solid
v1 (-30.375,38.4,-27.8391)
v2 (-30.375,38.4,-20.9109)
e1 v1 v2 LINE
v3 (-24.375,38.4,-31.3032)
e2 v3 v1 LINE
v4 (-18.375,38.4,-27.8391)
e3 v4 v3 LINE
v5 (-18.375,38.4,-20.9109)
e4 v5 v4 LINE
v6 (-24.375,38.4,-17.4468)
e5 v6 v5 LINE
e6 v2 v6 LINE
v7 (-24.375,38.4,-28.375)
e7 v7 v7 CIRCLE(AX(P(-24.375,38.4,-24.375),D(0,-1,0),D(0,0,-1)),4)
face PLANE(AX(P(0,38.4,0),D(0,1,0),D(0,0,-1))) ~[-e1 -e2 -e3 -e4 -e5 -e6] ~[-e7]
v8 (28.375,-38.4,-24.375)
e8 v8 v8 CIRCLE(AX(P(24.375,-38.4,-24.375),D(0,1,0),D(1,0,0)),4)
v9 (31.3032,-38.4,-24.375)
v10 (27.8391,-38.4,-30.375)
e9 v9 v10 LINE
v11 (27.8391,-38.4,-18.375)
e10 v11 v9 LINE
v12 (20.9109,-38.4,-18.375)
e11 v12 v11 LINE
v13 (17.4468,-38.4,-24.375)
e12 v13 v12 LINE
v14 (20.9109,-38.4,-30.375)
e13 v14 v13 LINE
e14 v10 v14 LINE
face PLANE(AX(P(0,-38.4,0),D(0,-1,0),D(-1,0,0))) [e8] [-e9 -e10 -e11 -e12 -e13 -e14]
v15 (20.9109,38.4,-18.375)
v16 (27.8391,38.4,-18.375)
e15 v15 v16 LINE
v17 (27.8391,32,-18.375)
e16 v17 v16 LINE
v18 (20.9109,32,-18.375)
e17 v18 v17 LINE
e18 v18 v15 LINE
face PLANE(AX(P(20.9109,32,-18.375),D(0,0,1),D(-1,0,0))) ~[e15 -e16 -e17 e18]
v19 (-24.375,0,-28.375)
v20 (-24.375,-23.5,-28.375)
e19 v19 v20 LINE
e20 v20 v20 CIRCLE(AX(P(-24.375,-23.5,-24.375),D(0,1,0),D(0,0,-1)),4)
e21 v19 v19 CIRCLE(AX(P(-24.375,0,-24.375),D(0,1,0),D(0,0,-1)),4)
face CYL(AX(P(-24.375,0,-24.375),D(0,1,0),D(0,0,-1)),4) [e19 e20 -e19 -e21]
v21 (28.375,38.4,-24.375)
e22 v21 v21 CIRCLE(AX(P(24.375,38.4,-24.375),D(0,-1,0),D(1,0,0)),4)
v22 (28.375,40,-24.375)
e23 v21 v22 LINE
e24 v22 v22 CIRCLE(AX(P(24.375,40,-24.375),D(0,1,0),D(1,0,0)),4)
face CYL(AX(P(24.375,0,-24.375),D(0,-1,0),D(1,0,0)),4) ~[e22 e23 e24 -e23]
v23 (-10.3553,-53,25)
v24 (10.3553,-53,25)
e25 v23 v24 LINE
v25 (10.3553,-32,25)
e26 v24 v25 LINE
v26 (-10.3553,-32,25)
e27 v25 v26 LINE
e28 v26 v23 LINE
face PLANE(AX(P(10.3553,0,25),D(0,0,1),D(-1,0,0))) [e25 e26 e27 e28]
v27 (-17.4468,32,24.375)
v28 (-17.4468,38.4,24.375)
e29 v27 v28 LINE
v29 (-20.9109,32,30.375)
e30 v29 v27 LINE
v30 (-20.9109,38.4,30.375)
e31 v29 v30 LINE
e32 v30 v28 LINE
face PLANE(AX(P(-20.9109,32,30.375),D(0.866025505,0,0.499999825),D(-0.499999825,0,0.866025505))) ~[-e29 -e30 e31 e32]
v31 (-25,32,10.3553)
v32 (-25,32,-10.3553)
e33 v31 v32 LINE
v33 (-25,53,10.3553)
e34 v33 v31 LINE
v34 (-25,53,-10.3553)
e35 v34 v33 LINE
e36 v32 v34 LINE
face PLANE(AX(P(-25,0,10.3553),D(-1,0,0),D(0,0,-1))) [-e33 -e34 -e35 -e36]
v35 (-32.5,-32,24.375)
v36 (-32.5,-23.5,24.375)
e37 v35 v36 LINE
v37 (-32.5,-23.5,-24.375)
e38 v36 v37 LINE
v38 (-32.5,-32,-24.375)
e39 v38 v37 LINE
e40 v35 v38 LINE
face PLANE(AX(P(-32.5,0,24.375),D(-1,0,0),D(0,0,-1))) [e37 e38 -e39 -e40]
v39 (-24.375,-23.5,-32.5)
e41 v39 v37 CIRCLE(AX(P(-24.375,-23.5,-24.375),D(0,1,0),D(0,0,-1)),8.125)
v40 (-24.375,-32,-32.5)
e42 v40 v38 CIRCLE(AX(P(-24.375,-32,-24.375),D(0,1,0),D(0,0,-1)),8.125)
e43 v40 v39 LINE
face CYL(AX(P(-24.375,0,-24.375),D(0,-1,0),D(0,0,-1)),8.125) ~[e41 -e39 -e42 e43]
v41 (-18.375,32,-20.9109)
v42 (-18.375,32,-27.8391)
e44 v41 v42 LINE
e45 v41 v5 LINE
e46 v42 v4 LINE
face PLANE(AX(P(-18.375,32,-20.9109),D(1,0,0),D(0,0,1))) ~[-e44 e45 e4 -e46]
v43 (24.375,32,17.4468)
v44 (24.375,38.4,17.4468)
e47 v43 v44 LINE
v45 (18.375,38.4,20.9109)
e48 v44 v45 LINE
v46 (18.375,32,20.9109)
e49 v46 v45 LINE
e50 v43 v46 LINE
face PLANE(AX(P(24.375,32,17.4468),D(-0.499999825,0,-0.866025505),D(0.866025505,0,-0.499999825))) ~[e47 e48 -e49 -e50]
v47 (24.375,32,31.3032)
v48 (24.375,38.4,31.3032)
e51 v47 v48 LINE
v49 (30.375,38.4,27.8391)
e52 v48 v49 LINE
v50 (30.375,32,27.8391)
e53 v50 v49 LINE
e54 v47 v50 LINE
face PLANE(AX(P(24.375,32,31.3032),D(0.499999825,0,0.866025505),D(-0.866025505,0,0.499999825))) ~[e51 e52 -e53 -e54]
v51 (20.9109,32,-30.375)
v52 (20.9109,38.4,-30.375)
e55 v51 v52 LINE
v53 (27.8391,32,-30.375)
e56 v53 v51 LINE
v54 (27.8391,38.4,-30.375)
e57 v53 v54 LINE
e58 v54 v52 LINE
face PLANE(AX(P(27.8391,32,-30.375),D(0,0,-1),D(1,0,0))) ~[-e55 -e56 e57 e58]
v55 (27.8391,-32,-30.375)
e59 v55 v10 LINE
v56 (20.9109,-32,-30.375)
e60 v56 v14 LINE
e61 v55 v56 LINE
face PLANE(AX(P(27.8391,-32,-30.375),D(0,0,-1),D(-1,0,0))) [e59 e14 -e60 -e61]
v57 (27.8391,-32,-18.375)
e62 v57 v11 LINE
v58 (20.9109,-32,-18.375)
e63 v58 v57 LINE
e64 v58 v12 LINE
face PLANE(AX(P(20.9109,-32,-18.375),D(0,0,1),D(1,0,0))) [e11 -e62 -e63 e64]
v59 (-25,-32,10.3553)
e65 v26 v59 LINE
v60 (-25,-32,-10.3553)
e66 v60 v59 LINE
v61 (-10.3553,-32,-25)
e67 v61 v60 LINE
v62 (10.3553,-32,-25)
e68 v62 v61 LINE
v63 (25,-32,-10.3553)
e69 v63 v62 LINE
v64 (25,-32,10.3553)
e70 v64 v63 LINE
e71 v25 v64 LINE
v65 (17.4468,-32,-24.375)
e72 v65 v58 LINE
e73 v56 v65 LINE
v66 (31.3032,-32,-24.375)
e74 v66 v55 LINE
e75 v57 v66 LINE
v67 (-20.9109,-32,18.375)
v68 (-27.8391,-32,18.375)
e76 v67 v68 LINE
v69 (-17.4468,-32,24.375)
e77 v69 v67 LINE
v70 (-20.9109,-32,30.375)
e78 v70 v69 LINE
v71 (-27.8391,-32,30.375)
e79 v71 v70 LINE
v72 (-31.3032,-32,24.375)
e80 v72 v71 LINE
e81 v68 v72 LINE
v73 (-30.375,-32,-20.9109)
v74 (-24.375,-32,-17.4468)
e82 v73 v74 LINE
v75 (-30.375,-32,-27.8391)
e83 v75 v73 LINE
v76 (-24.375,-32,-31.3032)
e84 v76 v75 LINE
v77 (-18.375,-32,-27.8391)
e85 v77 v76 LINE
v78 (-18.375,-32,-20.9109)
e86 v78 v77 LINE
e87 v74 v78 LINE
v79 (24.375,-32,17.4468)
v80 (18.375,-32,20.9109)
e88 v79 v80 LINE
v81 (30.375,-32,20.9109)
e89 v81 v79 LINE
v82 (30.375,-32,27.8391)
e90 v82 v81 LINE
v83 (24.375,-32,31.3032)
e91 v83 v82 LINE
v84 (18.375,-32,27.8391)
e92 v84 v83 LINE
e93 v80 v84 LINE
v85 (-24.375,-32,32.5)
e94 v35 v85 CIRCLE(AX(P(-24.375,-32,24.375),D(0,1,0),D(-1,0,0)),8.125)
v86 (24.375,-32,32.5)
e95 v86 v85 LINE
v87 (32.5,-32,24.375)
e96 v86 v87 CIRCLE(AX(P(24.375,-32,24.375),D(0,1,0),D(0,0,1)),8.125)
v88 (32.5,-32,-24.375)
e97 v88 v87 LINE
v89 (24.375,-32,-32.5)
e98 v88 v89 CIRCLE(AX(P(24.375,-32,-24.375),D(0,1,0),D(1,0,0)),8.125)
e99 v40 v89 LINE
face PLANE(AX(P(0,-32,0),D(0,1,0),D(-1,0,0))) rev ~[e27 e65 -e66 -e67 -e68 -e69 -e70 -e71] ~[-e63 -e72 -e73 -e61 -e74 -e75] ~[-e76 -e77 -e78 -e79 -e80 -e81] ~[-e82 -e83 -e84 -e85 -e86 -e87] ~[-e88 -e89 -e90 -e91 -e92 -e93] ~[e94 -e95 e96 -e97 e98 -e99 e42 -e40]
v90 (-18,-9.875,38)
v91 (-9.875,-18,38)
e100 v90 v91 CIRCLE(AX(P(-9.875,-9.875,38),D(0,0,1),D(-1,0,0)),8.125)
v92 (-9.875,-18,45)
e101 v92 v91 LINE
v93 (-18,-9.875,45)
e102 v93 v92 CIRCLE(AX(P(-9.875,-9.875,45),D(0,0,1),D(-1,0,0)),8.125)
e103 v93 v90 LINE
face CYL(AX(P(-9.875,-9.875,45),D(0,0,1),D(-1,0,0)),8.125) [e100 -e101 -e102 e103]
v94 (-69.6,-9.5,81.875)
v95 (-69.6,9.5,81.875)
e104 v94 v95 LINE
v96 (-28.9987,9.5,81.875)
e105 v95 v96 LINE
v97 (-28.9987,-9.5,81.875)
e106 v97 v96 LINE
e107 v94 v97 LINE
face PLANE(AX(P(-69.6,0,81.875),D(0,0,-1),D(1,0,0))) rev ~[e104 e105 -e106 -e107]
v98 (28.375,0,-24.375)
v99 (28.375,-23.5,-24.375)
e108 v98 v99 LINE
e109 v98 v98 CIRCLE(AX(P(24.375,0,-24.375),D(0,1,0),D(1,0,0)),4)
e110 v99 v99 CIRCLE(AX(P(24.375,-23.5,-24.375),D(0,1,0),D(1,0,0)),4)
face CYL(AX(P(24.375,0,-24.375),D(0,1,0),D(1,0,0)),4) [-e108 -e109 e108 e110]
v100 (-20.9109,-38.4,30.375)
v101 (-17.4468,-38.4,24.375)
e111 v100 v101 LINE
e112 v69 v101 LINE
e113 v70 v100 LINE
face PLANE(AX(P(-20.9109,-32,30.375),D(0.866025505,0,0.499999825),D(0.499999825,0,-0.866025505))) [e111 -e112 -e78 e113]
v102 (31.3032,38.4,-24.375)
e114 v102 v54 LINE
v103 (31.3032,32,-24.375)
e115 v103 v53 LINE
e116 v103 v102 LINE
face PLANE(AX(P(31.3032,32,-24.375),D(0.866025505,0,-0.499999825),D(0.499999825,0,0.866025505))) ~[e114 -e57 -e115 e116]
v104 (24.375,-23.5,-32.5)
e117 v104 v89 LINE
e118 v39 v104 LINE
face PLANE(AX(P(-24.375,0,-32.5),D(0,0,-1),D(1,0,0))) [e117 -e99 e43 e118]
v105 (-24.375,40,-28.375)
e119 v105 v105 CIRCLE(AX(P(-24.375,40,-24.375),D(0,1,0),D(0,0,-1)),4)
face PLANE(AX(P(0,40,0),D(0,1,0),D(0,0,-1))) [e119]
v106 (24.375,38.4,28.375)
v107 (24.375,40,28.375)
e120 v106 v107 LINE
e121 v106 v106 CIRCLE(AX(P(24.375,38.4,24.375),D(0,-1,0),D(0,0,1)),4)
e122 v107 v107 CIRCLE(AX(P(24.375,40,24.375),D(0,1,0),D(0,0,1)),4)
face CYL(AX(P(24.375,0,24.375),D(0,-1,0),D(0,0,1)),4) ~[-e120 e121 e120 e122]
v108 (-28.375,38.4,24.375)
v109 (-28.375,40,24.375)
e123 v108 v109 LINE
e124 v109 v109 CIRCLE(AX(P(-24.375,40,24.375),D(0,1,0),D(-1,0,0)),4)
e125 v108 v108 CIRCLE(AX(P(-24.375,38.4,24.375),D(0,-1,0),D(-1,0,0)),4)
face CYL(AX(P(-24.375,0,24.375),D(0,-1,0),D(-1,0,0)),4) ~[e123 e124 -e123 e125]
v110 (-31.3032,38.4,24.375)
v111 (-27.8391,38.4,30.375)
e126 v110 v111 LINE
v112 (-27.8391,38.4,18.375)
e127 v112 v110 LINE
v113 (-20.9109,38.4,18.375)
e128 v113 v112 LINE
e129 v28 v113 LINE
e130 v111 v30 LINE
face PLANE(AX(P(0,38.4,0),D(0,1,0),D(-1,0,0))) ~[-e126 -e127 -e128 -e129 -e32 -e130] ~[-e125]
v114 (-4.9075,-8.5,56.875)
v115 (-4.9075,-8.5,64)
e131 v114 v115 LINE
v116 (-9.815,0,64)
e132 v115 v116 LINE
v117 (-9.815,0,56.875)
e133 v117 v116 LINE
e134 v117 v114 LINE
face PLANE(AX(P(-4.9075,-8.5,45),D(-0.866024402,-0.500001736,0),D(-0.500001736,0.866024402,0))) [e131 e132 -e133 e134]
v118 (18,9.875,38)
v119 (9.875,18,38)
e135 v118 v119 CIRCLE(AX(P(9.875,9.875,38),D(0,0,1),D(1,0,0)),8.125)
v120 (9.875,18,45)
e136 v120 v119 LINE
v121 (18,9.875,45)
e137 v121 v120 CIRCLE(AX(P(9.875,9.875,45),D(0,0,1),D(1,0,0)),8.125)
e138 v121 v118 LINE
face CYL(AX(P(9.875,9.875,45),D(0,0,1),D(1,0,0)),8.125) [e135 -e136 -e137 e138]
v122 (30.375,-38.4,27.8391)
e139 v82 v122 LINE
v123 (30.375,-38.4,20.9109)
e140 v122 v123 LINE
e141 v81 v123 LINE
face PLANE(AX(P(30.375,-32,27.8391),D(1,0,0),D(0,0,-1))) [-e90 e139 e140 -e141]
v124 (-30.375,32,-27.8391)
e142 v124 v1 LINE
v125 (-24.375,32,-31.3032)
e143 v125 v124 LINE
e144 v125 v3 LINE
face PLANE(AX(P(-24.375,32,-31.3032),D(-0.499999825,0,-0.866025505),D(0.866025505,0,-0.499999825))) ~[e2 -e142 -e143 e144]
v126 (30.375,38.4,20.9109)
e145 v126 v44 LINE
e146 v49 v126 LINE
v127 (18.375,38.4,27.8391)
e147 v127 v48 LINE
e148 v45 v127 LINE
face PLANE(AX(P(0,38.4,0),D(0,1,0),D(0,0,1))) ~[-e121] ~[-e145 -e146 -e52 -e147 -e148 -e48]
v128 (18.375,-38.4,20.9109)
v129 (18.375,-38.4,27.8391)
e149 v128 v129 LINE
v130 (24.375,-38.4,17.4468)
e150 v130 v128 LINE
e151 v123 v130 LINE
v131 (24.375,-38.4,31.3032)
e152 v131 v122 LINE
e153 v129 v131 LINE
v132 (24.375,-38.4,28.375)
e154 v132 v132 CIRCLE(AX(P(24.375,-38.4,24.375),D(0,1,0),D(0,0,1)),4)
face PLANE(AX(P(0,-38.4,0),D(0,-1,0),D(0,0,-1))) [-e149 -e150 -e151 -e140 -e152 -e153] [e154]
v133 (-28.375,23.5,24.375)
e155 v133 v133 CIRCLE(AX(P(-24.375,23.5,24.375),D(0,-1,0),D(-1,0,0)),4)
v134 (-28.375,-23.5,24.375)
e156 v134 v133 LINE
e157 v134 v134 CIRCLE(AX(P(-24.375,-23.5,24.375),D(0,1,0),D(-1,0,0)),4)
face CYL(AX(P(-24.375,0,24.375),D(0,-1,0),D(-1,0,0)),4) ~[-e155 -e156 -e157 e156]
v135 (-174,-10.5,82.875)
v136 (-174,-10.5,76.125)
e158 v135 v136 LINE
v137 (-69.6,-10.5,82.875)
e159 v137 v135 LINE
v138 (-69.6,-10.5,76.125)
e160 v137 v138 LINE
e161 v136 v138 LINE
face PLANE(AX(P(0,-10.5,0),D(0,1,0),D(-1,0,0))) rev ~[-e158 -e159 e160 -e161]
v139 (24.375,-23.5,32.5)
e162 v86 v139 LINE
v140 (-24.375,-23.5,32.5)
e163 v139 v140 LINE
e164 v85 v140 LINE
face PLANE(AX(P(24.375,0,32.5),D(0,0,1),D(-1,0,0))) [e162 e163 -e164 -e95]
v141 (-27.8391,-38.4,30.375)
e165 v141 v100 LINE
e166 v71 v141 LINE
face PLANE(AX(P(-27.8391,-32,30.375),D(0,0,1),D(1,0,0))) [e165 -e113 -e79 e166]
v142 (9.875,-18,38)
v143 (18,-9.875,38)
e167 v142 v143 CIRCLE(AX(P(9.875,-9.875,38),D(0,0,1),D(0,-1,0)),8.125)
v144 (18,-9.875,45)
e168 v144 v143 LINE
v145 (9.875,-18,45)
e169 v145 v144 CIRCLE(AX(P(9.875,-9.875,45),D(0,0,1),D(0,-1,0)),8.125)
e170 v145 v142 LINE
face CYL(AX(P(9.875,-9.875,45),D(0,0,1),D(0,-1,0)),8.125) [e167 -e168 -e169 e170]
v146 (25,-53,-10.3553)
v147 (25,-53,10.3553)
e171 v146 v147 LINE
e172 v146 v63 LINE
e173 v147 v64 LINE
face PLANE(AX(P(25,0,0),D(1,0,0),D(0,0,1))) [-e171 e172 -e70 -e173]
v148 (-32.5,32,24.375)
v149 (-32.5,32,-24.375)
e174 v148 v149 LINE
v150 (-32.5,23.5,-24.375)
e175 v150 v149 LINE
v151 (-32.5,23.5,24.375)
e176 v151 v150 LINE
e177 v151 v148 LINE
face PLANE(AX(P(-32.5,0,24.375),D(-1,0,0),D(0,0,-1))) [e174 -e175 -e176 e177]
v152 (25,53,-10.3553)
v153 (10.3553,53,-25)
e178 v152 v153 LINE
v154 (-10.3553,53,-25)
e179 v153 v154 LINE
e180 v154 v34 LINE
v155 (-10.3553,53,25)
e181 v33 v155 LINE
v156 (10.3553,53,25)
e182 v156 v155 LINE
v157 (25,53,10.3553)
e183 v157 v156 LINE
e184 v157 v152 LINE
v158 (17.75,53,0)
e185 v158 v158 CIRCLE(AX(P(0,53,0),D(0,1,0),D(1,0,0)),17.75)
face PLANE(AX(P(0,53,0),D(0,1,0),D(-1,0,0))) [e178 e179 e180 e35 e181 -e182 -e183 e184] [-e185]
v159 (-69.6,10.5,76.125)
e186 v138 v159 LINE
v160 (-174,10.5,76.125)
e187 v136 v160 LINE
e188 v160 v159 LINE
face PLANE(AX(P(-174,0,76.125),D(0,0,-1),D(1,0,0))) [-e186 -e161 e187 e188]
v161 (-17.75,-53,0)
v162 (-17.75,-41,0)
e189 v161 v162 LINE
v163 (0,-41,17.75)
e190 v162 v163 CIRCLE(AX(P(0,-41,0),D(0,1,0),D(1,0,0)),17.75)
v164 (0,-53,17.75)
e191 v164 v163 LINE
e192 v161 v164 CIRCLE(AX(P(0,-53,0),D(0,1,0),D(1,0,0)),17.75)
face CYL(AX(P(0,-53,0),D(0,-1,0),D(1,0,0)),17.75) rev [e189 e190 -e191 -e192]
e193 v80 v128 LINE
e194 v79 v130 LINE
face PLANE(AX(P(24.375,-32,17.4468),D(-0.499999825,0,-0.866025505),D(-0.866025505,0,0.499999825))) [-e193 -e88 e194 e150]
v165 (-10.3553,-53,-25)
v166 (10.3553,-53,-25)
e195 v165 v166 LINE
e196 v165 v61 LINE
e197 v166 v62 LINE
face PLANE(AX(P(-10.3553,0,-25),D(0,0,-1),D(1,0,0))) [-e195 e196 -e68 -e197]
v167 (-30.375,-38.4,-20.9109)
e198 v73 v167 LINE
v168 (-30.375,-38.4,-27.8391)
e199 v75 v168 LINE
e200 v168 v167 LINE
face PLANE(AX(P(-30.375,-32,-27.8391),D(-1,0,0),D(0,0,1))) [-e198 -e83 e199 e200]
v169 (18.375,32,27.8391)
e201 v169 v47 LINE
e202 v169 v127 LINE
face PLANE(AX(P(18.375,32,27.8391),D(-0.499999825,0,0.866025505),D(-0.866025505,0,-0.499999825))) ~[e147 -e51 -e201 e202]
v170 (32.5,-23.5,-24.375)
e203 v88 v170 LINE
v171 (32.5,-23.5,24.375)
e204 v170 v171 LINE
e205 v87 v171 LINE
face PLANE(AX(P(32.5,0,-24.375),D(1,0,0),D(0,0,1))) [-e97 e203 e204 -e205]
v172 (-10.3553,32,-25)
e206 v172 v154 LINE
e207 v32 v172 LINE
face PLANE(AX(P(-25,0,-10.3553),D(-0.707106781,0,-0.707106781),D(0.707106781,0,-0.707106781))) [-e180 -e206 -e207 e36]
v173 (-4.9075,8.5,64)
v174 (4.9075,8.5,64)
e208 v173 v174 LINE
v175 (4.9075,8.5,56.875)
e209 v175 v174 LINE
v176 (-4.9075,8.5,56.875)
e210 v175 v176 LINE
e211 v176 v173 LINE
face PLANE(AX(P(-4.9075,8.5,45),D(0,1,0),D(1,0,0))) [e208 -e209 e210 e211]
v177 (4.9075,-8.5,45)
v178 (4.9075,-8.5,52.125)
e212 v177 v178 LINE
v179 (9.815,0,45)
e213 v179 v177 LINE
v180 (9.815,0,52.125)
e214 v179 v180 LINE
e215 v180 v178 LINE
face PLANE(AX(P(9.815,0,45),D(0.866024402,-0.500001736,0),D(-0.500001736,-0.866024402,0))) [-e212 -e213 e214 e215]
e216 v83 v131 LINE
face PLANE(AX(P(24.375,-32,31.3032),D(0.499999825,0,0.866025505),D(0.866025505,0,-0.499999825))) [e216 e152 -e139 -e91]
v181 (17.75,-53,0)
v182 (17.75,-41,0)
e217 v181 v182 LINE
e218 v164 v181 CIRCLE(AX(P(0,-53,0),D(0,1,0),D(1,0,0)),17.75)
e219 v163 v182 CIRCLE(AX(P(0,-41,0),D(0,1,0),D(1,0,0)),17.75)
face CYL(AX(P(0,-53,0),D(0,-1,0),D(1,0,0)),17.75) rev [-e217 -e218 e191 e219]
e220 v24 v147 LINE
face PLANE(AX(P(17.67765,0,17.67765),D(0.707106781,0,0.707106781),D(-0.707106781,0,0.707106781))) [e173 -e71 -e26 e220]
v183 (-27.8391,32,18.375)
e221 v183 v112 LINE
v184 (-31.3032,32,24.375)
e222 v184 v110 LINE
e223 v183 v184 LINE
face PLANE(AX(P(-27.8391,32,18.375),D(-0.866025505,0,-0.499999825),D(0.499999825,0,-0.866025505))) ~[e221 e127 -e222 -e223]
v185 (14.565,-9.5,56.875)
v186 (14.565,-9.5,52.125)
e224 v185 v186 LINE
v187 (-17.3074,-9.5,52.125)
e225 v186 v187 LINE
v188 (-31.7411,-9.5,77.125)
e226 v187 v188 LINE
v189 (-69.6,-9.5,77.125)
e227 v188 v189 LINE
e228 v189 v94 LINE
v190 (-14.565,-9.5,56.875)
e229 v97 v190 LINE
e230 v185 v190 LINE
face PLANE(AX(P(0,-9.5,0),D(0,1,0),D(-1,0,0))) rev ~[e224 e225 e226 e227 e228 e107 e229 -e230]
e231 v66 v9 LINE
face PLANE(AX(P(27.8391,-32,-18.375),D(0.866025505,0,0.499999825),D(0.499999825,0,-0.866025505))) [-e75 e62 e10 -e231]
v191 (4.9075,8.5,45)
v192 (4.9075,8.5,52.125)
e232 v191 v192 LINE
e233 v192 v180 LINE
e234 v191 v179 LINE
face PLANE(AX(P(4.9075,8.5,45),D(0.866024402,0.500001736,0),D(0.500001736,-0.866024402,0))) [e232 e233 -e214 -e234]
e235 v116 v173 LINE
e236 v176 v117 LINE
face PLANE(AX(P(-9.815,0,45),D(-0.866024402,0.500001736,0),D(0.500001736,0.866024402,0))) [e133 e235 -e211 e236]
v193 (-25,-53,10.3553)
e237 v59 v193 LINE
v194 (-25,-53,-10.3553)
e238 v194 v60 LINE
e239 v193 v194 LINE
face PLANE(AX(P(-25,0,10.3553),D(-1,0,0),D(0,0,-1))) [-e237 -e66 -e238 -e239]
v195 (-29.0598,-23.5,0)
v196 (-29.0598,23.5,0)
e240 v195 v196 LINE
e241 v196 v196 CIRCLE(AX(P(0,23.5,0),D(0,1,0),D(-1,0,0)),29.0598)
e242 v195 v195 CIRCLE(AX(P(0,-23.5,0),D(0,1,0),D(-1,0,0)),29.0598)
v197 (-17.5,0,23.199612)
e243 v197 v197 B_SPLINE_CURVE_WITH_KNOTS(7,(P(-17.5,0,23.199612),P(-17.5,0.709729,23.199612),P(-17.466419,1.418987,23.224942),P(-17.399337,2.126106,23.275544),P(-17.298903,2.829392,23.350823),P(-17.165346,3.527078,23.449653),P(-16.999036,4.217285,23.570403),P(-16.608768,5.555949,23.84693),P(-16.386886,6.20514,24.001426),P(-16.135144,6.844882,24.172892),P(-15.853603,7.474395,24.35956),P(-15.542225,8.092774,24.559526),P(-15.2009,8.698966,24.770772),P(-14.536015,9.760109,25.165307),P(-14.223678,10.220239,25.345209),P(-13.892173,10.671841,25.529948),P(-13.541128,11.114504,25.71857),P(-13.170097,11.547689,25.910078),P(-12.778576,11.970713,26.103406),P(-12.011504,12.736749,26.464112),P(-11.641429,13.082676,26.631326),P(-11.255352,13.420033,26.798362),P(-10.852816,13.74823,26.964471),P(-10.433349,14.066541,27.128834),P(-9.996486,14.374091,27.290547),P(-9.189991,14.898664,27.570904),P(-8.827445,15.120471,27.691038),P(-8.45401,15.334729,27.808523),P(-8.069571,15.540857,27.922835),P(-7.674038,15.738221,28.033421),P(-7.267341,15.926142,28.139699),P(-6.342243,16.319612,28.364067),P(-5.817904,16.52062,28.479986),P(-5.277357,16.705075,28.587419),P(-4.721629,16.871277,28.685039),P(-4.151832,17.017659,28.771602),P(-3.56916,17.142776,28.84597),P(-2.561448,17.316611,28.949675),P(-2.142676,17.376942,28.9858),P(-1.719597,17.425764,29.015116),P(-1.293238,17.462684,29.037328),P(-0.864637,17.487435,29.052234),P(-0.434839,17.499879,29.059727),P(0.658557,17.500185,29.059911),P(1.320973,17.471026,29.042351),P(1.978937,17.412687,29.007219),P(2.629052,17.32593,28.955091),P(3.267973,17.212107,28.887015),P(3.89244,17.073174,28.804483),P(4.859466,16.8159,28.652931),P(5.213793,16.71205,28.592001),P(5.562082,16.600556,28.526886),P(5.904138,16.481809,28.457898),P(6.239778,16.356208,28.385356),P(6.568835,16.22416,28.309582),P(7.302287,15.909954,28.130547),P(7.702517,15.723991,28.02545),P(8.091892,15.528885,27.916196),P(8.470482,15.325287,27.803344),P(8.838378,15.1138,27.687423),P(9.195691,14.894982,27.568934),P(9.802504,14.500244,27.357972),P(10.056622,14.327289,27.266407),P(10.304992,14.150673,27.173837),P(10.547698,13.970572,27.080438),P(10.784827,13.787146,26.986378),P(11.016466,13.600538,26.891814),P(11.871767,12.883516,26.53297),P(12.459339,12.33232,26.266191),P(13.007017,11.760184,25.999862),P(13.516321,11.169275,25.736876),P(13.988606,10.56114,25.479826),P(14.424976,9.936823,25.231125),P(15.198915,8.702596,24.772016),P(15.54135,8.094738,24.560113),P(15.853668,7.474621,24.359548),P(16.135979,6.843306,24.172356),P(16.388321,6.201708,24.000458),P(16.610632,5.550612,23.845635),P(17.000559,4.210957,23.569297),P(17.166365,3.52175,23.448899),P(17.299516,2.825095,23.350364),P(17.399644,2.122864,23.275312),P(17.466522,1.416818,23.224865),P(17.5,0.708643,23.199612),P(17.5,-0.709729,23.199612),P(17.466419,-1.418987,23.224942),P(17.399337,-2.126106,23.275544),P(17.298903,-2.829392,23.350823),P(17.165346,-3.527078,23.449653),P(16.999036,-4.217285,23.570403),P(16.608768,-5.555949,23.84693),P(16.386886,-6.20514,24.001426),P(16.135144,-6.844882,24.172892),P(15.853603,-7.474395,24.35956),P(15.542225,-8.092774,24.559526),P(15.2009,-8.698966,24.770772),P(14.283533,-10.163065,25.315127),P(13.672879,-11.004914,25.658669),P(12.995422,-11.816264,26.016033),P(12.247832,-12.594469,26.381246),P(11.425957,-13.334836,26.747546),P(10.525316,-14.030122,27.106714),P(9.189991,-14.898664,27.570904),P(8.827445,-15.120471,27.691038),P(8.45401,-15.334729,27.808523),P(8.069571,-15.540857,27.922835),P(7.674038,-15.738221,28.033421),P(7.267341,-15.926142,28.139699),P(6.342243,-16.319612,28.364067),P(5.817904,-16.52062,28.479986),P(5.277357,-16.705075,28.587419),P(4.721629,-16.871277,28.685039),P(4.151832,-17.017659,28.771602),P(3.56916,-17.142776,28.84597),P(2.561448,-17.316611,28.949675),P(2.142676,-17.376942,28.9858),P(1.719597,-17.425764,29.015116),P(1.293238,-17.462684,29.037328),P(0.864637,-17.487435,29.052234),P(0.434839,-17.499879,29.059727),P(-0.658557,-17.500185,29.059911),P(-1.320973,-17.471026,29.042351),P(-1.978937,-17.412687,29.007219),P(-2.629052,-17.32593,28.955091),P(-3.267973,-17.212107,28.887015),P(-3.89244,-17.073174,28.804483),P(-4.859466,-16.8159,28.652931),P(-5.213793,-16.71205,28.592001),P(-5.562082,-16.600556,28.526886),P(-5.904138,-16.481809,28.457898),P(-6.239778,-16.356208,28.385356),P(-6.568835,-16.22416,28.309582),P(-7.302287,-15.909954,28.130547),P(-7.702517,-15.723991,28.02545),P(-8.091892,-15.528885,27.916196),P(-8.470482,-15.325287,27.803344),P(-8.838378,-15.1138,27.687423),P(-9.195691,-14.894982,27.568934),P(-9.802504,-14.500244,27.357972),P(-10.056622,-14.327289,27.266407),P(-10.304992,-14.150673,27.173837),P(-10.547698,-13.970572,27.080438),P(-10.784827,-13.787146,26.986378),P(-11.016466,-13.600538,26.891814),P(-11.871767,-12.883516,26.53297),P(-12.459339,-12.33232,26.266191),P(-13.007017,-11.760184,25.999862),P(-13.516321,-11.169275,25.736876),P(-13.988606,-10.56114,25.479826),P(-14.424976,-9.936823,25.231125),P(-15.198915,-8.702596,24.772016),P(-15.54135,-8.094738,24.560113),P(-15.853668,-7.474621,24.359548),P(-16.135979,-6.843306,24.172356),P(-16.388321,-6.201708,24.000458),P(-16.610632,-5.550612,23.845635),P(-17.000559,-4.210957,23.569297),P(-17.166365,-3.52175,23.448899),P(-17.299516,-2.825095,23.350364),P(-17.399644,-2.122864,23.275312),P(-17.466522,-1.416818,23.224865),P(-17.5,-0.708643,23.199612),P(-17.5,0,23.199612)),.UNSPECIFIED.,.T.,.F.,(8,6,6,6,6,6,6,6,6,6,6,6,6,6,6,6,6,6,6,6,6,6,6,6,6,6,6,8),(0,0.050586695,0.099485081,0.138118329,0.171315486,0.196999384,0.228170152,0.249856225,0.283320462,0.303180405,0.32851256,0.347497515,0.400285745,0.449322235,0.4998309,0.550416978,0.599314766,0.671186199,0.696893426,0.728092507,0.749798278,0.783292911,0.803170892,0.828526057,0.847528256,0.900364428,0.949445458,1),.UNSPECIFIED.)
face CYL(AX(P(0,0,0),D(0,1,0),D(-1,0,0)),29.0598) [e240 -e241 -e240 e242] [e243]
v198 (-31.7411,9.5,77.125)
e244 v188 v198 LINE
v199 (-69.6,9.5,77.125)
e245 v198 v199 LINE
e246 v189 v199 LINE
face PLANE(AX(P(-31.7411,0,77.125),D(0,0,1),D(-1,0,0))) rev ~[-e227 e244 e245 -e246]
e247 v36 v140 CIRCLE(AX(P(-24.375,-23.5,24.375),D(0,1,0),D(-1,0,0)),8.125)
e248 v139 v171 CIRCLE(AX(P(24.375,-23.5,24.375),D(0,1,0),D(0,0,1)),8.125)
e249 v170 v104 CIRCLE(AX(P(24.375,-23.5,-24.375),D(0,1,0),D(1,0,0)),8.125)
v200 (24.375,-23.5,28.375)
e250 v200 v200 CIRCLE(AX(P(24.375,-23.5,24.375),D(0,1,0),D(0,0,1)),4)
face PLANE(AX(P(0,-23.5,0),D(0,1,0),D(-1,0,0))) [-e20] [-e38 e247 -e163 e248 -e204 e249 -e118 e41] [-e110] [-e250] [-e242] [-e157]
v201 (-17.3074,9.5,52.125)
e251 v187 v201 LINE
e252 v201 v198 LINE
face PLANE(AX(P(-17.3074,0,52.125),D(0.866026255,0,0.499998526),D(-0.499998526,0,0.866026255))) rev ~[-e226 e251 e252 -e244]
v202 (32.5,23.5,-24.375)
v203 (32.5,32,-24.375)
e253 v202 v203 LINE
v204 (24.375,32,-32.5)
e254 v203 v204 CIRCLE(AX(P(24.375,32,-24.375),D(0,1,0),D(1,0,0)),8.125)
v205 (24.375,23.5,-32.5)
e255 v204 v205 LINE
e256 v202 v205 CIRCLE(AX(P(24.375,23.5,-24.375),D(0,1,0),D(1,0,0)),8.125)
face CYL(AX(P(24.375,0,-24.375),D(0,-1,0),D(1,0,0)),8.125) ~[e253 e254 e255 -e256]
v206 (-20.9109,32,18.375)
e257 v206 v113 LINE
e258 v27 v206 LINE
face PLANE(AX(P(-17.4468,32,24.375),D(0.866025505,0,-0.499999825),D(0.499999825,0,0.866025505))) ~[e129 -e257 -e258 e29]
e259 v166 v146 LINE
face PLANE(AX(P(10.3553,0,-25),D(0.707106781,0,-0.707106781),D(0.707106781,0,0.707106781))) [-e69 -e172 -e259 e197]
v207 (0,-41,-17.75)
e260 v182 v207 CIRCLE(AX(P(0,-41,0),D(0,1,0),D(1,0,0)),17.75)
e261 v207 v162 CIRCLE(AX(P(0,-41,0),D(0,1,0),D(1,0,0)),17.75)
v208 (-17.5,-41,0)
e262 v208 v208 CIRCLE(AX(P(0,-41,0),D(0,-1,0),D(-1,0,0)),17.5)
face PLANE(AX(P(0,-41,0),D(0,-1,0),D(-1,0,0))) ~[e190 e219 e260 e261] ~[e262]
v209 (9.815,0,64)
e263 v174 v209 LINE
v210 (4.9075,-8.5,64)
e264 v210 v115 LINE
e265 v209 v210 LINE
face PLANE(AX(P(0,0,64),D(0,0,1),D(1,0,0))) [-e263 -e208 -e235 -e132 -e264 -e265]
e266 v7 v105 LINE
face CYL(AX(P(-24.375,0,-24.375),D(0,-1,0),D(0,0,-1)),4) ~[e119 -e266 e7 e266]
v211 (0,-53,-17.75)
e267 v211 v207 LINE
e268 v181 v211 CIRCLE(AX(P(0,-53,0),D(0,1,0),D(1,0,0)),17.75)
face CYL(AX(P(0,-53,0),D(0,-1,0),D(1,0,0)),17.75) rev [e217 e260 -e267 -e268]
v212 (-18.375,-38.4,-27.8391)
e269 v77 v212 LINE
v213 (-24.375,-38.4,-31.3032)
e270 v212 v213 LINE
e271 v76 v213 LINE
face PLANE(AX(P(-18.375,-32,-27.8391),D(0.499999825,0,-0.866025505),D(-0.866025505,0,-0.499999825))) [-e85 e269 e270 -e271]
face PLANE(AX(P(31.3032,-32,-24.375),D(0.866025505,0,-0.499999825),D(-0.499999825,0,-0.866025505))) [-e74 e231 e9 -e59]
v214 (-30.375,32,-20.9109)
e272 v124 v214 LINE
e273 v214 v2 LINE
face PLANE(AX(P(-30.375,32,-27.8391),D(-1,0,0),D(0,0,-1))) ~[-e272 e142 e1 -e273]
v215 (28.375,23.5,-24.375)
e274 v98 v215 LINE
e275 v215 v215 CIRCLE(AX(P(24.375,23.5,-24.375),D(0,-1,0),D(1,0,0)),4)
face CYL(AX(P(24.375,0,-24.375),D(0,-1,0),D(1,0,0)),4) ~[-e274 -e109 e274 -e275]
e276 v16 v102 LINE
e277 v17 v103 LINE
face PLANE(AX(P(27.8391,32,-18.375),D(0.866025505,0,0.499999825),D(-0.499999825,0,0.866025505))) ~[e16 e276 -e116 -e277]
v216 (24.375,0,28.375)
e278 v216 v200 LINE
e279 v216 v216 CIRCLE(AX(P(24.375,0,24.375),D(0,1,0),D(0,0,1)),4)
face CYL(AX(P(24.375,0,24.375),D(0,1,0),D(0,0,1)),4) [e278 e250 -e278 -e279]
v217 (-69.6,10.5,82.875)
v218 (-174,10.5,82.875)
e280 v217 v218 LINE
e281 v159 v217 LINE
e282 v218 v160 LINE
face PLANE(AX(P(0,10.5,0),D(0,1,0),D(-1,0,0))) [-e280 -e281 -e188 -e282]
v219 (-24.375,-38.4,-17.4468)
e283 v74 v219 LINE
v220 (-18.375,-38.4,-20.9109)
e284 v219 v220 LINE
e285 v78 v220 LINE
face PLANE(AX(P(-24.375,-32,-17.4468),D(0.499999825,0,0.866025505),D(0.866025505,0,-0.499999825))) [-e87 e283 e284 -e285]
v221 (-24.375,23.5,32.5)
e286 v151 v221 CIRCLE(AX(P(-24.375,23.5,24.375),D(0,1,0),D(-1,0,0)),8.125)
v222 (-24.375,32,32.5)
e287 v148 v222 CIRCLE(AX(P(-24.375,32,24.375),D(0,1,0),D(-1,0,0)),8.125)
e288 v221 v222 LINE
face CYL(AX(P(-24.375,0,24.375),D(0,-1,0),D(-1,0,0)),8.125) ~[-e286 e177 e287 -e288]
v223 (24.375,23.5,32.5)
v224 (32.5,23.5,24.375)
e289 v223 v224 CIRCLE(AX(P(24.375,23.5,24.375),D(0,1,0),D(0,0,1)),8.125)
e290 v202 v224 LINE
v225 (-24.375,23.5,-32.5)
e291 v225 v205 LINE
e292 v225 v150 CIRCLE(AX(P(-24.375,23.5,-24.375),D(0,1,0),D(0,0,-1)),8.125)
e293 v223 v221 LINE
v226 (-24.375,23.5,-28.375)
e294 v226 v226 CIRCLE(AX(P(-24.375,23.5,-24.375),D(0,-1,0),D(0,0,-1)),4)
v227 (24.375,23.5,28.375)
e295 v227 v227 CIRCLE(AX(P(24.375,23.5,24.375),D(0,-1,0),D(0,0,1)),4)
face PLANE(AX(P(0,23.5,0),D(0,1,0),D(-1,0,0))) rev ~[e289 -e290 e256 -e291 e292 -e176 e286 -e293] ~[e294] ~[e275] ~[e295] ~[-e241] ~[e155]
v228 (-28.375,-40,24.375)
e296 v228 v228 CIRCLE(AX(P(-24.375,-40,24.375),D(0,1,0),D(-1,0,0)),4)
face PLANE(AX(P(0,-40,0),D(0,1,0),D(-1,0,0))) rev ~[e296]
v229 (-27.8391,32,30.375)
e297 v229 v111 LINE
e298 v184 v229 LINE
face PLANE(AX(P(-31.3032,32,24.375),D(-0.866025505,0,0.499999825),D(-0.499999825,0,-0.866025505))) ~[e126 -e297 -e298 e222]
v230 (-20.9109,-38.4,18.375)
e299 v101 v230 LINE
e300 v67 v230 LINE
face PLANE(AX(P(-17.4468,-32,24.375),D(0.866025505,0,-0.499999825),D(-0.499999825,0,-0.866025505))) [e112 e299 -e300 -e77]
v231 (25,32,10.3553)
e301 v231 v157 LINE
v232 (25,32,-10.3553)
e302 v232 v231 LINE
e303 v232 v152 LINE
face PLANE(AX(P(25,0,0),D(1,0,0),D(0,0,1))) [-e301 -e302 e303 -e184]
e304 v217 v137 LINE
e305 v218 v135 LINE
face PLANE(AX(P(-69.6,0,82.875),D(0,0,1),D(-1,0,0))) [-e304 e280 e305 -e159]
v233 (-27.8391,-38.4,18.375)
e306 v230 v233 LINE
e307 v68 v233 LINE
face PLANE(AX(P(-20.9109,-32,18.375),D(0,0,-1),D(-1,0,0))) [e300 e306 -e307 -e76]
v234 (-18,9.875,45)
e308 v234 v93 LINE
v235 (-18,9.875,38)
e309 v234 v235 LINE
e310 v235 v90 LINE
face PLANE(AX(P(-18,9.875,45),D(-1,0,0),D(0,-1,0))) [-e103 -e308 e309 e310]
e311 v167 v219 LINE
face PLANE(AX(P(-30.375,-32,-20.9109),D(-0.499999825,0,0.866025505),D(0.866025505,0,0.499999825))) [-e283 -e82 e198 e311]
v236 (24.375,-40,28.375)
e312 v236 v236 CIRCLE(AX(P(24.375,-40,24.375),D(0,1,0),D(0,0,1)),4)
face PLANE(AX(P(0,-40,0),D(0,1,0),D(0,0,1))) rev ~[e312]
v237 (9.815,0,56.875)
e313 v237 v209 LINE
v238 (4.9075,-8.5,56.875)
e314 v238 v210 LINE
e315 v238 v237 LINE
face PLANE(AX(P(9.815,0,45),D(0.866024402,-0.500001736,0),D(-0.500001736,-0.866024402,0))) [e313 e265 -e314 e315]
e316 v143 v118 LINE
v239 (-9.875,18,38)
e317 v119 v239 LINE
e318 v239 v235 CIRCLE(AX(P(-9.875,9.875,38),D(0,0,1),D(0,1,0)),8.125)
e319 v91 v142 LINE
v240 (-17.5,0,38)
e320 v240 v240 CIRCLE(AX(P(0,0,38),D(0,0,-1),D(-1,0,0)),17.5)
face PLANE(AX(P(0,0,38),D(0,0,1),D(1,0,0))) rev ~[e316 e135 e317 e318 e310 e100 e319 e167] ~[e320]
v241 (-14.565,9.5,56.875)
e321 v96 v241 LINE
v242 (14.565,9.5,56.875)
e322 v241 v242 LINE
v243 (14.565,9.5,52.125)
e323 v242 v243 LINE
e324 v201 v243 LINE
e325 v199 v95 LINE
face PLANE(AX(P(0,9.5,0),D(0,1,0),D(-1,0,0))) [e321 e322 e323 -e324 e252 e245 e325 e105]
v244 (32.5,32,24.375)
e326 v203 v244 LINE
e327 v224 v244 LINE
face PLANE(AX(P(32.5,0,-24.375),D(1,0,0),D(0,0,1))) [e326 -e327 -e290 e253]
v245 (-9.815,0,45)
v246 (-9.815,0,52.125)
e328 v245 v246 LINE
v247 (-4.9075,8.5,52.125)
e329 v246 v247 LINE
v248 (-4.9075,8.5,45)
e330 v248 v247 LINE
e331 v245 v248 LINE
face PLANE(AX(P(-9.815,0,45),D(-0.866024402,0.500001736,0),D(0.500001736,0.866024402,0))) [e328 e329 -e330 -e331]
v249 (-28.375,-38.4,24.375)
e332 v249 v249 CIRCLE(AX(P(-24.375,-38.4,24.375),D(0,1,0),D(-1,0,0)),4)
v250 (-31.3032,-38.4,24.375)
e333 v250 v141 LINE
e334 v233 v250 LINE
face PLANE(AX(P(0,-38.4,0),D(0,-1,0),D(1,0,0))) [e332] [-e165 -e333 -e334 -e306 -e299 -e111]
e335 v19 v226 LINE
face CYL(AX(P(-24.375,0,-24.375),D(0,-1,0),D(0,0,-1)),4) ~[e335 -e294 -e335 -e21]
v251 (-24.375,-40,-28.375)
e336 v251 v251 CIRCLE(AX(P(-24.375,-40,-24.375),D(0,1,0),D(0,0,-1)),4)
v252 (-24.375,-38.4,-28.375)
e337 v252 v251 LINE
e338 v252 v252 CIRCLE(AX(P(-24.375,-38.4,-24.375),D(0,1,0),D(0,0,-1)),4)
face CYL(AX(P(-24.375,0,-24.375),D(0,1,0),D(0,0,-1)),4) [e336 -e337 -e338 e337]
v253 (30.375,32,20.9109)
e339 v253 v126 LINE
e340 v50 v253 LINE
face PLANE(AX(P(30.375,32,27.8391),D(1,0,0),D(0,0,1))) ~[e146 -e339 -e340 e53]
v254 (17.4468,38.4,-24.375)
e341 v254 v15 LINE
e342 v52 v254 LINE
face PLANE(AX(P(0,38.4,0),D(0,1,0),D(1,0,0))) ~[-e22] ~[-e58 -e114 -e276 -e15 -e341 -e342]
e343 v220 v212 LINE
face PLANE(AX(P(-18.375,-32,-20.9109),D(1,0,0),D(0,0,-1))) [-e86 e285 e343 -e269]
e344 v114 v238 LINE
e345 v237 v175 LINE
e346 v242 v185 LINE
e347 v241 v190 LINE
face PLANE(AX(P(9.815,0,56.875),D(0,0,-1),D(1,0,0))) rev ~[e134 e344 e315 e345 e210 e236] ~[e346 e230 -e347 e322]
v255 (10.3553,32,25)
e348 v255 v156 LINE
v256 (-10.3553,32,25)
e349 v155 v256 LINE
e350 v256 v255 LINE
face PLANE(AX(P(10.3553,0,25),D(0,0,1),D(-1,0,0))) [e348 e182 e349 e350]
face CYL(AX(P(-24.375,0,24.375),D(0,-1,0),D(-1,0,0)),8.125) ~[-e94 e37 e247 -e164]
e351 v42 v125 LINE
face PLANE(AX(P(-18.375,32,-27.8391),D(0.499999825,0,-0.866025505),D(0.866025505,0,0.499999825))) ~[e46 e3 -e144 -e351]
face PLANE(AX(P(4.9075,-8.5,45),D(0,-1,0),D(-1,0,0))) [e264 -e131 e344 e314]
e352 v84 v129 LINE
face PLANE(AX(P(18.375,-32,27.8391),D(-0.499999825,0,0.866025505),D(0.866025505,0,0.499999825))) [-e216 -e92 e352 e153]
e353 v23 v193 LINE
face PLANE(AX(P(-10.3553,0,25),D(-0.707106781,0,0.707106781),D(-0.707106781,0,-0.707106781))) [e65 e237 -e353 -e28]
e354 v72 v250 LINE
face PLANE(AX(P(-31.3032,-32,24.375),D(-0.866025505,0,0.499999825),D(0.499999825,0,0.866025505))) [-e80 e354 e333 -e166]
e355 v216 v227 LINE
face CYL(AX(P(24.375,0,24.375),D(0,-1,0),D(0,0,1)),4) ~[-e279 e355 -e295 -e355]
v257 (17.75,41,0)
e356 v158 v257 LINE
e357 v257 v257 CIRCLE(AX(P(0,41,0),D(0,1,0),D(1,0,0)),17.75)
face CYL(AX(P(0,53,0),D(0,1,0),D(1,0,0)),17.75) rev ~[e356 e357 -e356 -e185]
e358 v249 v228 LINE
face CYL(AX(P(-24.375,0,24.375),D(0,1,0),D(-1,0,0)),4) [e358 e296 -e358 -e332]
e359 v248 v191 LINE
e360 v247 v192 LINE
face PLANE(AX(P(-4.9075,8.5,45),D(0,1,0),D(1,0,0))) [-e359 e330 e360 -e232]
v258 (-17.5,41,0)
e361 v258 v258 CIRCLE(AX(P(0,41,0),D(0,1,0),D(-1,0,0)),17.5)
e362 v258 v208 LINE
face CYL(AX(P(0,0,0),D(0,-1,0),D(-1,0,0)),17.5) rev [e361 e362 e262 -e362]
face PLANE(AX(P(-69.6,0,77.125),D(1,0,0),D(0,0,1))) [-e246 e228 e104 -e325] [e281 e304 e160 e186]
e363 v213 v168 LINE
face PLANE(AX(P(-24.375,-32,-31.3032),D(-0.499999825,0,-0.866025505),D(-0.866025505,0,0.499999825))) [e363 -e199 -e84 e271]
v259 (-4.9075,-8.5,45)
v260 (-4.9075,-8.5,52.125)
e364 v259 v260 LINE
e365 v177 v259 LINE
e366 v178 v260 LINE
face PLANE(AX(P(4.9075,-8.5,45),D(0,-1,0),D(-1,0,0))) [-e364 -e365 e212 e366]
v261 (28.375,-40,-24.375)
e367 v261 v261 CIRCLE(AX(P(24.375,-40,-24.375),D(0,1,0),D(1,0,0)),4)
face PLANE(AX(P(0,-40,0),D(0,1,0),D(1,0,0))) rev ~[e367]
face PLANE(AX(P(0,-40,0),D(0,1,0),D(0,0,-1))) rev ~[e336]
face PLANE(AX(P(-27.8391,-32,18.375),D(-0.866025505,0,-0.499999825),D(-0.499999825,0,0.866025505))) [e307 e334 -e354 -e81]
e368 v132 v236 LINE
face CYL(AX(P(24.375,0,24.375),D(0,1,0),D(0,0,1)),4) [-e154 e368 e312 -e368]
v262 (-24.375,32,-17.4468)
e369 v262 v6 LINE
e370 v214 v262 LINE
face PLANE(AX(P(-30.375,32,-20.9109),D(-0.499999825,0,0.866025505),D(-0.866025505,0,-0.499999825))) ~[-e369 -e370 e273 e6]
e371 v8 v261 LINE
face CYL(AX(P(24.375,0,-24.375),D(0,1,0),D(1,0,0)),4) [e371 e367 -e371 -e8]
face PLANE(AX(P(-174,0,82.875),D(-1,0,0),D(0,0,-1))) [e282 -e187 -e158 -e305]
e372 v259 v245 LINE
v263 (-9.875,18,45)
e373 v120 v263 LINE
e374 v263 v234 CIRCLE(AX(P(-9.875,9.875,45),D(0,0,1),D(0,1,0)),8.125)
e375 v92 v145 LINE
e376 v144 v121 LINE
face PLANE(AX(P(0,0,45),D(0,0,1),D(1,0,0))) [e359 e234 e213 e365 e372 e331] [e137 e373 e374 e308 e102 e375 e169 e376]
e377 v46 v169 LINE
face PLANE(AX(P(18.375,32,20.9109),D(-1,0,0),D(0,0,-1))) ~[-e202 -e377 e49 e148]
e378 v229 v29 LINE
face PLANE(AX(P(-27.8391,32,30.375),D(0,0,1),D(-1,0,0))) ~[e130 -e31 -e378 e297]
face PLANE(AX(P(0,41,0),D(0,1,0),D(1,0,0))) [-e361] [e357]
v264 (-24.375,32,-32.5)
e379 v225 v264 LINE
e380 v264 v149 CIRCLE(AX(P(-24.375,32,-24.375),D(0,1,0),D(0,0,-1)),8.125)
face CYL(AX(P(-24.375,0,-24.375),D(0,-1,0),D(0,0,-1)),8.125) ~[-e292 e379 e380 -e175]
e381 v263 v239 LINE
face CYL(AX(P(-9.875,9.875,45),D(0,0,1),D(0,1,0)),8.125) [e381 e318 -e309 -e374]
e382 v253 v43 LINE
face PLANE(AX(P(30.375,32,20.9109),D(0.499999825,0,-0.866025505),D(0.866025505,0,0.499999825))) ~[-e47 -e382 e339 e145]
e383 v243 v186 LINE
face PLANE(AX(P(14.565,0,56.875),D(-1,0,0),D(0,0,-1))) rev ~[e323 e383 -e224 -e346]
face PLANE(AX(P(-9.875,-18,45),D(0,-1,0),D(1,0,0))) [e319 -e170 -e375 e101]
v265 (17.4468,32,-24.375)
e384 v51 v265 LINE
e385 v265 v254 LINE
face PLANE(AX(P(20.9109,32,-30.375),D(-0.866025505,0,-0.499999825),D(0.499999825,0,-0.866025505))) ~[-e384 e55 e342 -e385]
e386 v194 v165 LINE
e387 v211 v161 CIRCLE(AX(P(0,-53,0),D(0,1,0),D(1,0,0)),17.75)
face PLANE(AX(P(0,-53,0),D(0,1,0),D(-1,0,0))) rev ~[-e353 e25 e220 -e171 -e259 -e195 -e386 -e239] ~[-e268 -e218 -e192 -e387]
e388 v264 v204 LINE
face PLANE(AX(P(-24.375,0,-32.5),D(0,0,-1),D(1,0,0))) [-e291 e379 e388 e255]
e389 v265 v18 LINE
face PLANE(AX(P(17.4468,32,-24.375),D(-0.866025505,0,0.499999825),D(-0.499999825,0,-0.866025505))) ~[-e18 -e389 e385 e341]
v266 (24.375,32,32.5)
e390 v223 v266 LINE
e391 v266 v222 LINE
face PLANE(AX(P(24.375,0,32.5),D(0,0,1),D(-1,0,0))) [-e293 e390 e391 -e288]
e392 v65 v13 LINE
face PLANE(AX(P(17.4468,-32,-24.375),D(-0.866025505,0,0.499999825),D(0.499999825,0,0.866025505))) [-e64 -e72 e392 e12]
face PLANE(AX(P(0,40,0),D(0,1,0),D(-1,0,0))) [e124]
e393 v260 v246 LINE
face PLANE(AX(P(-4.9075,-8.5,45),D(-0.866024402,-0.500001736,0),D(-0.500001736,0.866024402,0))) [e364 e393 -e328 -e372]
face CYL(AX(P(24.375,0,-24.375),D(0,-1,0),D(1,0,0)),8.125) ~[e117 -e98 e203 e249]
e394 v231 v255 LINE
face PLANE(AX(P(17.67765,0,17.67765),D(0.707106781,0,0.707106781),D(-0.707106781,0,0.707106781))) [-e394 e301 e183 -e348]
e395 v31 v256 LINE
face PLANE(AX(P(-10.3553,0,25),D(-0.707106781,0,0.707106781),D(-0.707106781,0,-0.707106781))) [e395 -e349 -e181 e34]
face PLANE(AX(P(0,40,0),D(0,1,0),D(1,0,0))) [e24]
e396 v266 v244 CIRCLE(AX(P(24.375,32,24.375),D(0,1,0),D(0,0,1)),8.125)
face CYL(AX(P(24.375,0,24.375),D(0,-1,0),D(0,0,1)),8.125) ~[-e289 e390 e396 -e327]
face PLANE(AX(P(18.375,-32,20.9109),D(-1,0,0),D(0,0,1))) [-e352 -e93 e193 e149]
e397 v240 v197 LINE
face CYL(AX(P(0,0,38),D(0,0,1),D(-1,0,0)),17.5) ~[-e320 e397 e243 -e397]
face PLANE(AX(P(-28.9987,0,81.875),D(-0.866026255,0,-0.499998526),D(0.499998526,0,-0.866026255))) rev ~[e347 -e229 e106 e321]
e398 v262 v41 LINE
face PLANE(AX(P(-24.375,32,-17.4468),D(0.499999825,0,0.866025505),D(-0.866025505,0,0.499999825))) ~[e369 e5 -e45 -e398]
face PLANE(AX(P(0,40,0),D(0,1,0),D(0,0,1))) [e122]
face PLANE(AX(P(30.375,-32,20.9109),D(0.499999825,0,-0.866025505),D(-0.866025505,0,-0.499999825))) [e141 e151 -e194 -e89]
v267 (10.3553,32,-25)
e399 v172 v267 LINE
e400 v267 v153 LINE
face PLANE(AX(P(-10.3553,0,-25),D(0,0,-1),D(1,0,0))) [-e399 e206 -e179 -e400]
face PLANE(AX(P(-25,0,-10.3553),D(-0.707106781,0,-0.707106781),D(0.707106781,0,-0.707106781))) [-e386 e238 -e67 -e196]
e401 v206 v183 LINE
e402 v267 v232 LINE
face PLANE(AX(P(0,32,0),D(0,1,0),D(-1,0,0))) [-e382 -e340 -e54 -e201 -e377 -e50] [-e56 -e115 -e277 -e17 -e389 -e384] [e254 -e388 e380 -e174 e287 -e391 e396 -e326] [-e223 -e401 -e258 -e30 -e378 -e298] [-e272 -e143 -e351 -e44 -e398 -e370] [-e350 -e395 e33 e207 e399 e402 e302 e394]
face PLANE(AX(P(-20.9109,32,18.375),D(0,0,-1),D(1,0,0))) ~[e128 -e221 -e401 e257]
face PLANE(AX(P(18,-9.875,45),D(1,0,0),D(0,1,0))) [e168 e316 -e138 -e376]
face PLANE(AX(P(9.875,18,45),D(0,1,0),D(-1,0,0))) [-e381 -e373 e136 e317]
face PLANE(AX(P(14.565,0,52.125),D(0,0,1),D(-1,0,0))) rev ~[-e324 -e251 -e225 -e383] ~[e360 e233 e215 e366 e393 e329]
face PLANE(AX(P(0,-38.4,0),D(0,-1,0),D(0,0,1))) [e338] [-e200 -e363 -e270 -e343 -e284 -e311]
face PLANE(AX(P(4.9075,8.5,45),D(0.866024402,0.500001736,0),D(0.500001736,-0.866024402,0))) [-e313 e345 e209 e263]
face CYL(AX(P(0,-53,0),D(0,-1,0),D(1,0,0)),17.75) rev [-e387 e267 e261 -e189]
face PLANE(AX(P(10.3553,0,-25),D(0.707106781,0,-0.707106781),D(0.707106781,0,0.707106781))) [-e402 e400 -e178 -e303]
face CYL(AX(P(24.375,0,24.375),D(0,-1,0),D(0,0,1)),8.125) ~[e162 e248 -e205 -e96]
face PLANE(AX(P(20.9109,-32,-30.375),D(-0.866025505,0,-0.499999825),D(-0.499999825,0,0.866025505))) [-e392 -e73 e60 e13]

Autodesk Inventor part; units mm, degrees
ref_plane "YZ Plane" through (0, 0, 0) normal (1, 0, 0) x (0, 1, 0)
ref_plane "XZ Plane" through (0, 0, 0) normal (0, 1, 0) x (-1, 0, 0)
sketch "Sketch3" plane through (0, 0, 0) normal (0, 1, 0) x (-1, 0, 0)
  line L0 (-10.3553, 25) -> (10.3553, 25)
  line L1 (10.3553, 25) -> (25, 10.3553)
  line L2 (25, 10.3553) -> (25, -10.3553)
  line L3 (25, -10.3553) -> (10.3553, -25)
  line L4 (10.3553, -25) -> (-10.3553, -25)
  line L5 (-10.3553, -25) -> (-25, -10.3553)
  line L6 (-25, -10.3553) -> (-25, 10.3553)
  line L7 (-25, 10.3553) -> (-10.3553, 25)
  circle A0 centre (0, 0) radius 27.0598
  line L8 (24.375, -32.5) -> (-24.375, -32.5)
  line L9 (-32.5, -24.375) -> (-32.5, 24.375)
  line L10 (-24.375, 32.5) -> (24.375, 32.5)
  line L11 (32.5, 24.375) -> (32.5, -24.375)
  line L12 (32.5, -32.5) -> (-32.5, 32.5) construction
  line L13 (-32.5, -32.5) -> (32.5, 32.5) construction
  circle A1 centre (0, 0) radius 25
  arc A2 (32.5, 24.375) -> (24.375, 32.5) centre (24.375, 24.375) ccw
  arc A3 (-24.375, 32.5) -> (-32.5, 24.375) centre (-24.375, 24.375) ccw
  arc A4 (-32.5, -24.375) -> (-24.375, -32.5) centre (-24.375, -24.375) ccw
  arc A5 (24.375, -32.5) -> (32.5, -24.375) centre (24.375, -24.375) ccw
  circle A6 centre (0, 0) radius 17.5
  circle A7 centre (24.375, 24.375) radius 4
  circle A8 centre (0, 0) radius 29.0598
  dimension "oSW" = 50
  dimension "oFlangeW" = 65
  dimension "d2" = 8.125
  dimension "oIntDia" = 35
  dimension "oMbolt" = 8
  dimension "d16" = 2
extrude "Extrusion1" add sketch "Sketch3" along normal mid plane 106 contours L0 A1 L7 | L0 L1 A1 | A1 | A1 L6 L7 | L1 L2 A1 | A1 L5 L6 | L2 L3 A1 | A1 L4 L5 | L3 L4 A1
extrude "Extrusion2" add sketch "Sketch3" along normal mid plane 64 contours A0 L0 | L7 A0 | A0 L1 | L6 A0 | A0 L2 | L5 A0 | L4 A0 | A0 L3 | L8 A4 L9 A3 L10 A2 L11 A5 | A7 | A8
extrude "Extrusion3" cut sketch "Sketch3" along normal mid plane 47 contours L8 A4 L9 A3 L10 A2 L11 A5 | A7
extrude "Extrusion4" add sketch "Sketch3" along normal mid plane 80 contours A7
sketch "Sketch4" plane through (0, -32, 0) normal (0, -1, 0) x (1, 0, 0)
  circle A0 centre (-24.375, 24.375) radius 4 projected
  line L0 (-20.9109, 18.375) -> (-27.8391, 18.375)
  line L1 (-27.8391, 18.375) -> (-31.3032, 24.375)
  line L2 (-31.3032, 24.375) -> (-27.8391, 30.375)
  line L3 (-27.8391, 30.375) -> (-20.9109, 30.375)
  line L4 (-20.9109, 30.375) -> (-17.4468, 24.375)
  line L5 (-17.4468, 24.375) -> (-20.9109, 18.375)
  point P0 (0, 0)
  dimension "d13" = 12
extrude "Extrusion5" add sketch "Sketch4" along normal blind 6.4
sketch "Sketch10" plane through (0, 53, 0) normal (0, 1, 0) x (1, 0, 0)
  circle A0 centre (0, 0) radius 17.5 projected
  circle A1 centre (0, 0) radius 17.75
  dimension "d44" = 0.25
extrude "Extrusion11" cut sketch "Sketch10" against normal blind 12
mirror "Mirror1" about plane through (0, 0, 0) normal (0, 1, 0) of "Extrusion5", "Extrusion11"
pattern_circular "Circular Pattern1" count 4 over 360 about axis through (0, 0, 0) along (0, 1, 0) of "Extrusion5", "Extrusion4", "Mirror1"
ref_plane "Work Plane1" through (0, 0, 45) normal (0, 0, 1) x (1, 0, 0)
sketch "Sketch5" plane through (0, 0, 45) normal (0, 0, 1) x (1, 0, 0)
  line L0 (-9.875, -18) -> (9.875, -18)
  line L1 (18, -9.875) -> (18, 9.875)
  line L2 (9.875, 18) -> (-9.875, 18)
  line L3 (-18, 9.875) -> (-18, -9.875)
  line L4 (-18, -18) -> (18, 18) construction
  line L5 (18, -18) -> (-18, 18) construction
  arc A0 (-18, -9.875) -> (-9.875, -18) centre (-9.875, -9.875) ccw
  arc A1 (9.875, -18) -> (18, -9.875) centre (9.875, -9.875) ccw
  arc A2 (18, 9.875) -> (9.875, 18) centre (9.875, 9.875) ccw
  arc A3 (-9.875, 18) -> (-18, 9.875) centre (-9.875, 9.875) ccw
  point P0 (0, 0)
  dimension "d21" = 36
  dimension "d22" = 8.125
extrude "Extrusion6" add sketch "Sketch5" against normal blind 7
sketch "Sketch6" plane through (0, 0, 38) normal (0, 0, -1) x (-1, 0, 0)
  circle A0 centre (0, 0) radius 17.5
  dimension "d25" = 35
extrude "Extrusion7" add sketch "Sketch6" along normal up to surface
sketch "Sketch8" plane through (0, 0, 45) normal (0, 0, 1) x (1, 0, 0)
  line L0 (-4.9075, -8.5) -> (-9.815, 0)
  line L1 (-9.815, 0) -> (-4.9075, 8.5)
  line L2 (-4.9075, 8.5) -> (4.9075, 8.5)
  line L3 (4.9075, 8.5) -> (9.815, 0)
  line L4 (9.815, 0) -> (4.9075, -8.5)
  line L5 (4.9075, -8.5) -> (-4.9075, -8.5)
  point P0 (0, 0)
  point P1 (0, 0)
  dimension "oSW2" = 17
extrude "Extrusion8" add sketch "Sketch8" along normal blind 19
sketch "Sketch9" plane through (0, 0, 0) normal (0, 1, 0) x (-1, 0, 0)
  line L0 (-9.815, 45) -> (-9.815, 64) projected
  line L1 (-14.565, 52.125) -> (17.3074, 52.125)
  line L2 (17.3074, 52.125) -> (31.7411, 77.125)
  line L3 (31.7411, 77.125) -> (69.6, 77.125)
  line L4 (69.6, 77.125) -> (69.6, 81.875)
  line L5 (69.6, 81.875) -> (28.9987, 81.875)
  line L6 (28.9987, 81.875) -> (14.565, 56.875)
  line L7 (14.565, 56.875) -> (-14.565, 56.875)
  line L8 (-14.565, 56.875) -> (-14.565, 52.125)
  line L9 (-9.815, 54.5) -> (-14.565, 54.5) construction
  line L10 (19.8191, 56.4755) -> (15.7055, 58.8505) construction
  line L11 (69.6, 82.875) -> (174, 82.875)
  line L12 (174, 82.875) -> (174, 76.125)
  line L13 (174, 76.125) -> (69.6, 76.125)
  line L14 (69.6, 76.125) -> (69.6, 82.875)
  line L15 (9.815, 45) -> (9.815, 64) projected
  point P0 (0, 0)
  point P1 (69.6, 79.5)
  dimension "d32" = 60
  dimension "d33" = 4.75
  dimension "oHeightHandle" = 25
  dimension "d35" = 1
  dimension "d36" = 4.75
  dimension "d37" = 4.75
  dimension "oLenghtHandle" = 174
  dimension "d39" = 104.4
extrude "Extrusion9" add sketch "Sketch9" along normal mid plane 19 contours L1 L8 L7 L0 | L0 L7 L15 L1 | L15 L7 L6 L5 L4 L3 L2 L1
extrude "Extrusion10" add sketch "Sketch9" along normal mid plane 21 contours L4 L14 L11 L12 L13
equation "\"d2\" = 0.125 * oFlangeW"
equation "\"d13\" = 1.5 * oMbolt"
equation "\"d14\" = 0.8 * oMbolt"
equation "\"d22\" = d2"
equation "\"d25\" = oIntDia"
equation "\"d33\" = 0.25 * oHeightTop"
equation "\"d36\" = d33"
equation "\"d37\" = d36"
equation "\"d39\" = 0.6 * oLenghtHandle"
equation "\"oHeightTop\" = 19"
properties part number "MANUAL THREADED BALL VALVE DN32 S235" material "S235"
